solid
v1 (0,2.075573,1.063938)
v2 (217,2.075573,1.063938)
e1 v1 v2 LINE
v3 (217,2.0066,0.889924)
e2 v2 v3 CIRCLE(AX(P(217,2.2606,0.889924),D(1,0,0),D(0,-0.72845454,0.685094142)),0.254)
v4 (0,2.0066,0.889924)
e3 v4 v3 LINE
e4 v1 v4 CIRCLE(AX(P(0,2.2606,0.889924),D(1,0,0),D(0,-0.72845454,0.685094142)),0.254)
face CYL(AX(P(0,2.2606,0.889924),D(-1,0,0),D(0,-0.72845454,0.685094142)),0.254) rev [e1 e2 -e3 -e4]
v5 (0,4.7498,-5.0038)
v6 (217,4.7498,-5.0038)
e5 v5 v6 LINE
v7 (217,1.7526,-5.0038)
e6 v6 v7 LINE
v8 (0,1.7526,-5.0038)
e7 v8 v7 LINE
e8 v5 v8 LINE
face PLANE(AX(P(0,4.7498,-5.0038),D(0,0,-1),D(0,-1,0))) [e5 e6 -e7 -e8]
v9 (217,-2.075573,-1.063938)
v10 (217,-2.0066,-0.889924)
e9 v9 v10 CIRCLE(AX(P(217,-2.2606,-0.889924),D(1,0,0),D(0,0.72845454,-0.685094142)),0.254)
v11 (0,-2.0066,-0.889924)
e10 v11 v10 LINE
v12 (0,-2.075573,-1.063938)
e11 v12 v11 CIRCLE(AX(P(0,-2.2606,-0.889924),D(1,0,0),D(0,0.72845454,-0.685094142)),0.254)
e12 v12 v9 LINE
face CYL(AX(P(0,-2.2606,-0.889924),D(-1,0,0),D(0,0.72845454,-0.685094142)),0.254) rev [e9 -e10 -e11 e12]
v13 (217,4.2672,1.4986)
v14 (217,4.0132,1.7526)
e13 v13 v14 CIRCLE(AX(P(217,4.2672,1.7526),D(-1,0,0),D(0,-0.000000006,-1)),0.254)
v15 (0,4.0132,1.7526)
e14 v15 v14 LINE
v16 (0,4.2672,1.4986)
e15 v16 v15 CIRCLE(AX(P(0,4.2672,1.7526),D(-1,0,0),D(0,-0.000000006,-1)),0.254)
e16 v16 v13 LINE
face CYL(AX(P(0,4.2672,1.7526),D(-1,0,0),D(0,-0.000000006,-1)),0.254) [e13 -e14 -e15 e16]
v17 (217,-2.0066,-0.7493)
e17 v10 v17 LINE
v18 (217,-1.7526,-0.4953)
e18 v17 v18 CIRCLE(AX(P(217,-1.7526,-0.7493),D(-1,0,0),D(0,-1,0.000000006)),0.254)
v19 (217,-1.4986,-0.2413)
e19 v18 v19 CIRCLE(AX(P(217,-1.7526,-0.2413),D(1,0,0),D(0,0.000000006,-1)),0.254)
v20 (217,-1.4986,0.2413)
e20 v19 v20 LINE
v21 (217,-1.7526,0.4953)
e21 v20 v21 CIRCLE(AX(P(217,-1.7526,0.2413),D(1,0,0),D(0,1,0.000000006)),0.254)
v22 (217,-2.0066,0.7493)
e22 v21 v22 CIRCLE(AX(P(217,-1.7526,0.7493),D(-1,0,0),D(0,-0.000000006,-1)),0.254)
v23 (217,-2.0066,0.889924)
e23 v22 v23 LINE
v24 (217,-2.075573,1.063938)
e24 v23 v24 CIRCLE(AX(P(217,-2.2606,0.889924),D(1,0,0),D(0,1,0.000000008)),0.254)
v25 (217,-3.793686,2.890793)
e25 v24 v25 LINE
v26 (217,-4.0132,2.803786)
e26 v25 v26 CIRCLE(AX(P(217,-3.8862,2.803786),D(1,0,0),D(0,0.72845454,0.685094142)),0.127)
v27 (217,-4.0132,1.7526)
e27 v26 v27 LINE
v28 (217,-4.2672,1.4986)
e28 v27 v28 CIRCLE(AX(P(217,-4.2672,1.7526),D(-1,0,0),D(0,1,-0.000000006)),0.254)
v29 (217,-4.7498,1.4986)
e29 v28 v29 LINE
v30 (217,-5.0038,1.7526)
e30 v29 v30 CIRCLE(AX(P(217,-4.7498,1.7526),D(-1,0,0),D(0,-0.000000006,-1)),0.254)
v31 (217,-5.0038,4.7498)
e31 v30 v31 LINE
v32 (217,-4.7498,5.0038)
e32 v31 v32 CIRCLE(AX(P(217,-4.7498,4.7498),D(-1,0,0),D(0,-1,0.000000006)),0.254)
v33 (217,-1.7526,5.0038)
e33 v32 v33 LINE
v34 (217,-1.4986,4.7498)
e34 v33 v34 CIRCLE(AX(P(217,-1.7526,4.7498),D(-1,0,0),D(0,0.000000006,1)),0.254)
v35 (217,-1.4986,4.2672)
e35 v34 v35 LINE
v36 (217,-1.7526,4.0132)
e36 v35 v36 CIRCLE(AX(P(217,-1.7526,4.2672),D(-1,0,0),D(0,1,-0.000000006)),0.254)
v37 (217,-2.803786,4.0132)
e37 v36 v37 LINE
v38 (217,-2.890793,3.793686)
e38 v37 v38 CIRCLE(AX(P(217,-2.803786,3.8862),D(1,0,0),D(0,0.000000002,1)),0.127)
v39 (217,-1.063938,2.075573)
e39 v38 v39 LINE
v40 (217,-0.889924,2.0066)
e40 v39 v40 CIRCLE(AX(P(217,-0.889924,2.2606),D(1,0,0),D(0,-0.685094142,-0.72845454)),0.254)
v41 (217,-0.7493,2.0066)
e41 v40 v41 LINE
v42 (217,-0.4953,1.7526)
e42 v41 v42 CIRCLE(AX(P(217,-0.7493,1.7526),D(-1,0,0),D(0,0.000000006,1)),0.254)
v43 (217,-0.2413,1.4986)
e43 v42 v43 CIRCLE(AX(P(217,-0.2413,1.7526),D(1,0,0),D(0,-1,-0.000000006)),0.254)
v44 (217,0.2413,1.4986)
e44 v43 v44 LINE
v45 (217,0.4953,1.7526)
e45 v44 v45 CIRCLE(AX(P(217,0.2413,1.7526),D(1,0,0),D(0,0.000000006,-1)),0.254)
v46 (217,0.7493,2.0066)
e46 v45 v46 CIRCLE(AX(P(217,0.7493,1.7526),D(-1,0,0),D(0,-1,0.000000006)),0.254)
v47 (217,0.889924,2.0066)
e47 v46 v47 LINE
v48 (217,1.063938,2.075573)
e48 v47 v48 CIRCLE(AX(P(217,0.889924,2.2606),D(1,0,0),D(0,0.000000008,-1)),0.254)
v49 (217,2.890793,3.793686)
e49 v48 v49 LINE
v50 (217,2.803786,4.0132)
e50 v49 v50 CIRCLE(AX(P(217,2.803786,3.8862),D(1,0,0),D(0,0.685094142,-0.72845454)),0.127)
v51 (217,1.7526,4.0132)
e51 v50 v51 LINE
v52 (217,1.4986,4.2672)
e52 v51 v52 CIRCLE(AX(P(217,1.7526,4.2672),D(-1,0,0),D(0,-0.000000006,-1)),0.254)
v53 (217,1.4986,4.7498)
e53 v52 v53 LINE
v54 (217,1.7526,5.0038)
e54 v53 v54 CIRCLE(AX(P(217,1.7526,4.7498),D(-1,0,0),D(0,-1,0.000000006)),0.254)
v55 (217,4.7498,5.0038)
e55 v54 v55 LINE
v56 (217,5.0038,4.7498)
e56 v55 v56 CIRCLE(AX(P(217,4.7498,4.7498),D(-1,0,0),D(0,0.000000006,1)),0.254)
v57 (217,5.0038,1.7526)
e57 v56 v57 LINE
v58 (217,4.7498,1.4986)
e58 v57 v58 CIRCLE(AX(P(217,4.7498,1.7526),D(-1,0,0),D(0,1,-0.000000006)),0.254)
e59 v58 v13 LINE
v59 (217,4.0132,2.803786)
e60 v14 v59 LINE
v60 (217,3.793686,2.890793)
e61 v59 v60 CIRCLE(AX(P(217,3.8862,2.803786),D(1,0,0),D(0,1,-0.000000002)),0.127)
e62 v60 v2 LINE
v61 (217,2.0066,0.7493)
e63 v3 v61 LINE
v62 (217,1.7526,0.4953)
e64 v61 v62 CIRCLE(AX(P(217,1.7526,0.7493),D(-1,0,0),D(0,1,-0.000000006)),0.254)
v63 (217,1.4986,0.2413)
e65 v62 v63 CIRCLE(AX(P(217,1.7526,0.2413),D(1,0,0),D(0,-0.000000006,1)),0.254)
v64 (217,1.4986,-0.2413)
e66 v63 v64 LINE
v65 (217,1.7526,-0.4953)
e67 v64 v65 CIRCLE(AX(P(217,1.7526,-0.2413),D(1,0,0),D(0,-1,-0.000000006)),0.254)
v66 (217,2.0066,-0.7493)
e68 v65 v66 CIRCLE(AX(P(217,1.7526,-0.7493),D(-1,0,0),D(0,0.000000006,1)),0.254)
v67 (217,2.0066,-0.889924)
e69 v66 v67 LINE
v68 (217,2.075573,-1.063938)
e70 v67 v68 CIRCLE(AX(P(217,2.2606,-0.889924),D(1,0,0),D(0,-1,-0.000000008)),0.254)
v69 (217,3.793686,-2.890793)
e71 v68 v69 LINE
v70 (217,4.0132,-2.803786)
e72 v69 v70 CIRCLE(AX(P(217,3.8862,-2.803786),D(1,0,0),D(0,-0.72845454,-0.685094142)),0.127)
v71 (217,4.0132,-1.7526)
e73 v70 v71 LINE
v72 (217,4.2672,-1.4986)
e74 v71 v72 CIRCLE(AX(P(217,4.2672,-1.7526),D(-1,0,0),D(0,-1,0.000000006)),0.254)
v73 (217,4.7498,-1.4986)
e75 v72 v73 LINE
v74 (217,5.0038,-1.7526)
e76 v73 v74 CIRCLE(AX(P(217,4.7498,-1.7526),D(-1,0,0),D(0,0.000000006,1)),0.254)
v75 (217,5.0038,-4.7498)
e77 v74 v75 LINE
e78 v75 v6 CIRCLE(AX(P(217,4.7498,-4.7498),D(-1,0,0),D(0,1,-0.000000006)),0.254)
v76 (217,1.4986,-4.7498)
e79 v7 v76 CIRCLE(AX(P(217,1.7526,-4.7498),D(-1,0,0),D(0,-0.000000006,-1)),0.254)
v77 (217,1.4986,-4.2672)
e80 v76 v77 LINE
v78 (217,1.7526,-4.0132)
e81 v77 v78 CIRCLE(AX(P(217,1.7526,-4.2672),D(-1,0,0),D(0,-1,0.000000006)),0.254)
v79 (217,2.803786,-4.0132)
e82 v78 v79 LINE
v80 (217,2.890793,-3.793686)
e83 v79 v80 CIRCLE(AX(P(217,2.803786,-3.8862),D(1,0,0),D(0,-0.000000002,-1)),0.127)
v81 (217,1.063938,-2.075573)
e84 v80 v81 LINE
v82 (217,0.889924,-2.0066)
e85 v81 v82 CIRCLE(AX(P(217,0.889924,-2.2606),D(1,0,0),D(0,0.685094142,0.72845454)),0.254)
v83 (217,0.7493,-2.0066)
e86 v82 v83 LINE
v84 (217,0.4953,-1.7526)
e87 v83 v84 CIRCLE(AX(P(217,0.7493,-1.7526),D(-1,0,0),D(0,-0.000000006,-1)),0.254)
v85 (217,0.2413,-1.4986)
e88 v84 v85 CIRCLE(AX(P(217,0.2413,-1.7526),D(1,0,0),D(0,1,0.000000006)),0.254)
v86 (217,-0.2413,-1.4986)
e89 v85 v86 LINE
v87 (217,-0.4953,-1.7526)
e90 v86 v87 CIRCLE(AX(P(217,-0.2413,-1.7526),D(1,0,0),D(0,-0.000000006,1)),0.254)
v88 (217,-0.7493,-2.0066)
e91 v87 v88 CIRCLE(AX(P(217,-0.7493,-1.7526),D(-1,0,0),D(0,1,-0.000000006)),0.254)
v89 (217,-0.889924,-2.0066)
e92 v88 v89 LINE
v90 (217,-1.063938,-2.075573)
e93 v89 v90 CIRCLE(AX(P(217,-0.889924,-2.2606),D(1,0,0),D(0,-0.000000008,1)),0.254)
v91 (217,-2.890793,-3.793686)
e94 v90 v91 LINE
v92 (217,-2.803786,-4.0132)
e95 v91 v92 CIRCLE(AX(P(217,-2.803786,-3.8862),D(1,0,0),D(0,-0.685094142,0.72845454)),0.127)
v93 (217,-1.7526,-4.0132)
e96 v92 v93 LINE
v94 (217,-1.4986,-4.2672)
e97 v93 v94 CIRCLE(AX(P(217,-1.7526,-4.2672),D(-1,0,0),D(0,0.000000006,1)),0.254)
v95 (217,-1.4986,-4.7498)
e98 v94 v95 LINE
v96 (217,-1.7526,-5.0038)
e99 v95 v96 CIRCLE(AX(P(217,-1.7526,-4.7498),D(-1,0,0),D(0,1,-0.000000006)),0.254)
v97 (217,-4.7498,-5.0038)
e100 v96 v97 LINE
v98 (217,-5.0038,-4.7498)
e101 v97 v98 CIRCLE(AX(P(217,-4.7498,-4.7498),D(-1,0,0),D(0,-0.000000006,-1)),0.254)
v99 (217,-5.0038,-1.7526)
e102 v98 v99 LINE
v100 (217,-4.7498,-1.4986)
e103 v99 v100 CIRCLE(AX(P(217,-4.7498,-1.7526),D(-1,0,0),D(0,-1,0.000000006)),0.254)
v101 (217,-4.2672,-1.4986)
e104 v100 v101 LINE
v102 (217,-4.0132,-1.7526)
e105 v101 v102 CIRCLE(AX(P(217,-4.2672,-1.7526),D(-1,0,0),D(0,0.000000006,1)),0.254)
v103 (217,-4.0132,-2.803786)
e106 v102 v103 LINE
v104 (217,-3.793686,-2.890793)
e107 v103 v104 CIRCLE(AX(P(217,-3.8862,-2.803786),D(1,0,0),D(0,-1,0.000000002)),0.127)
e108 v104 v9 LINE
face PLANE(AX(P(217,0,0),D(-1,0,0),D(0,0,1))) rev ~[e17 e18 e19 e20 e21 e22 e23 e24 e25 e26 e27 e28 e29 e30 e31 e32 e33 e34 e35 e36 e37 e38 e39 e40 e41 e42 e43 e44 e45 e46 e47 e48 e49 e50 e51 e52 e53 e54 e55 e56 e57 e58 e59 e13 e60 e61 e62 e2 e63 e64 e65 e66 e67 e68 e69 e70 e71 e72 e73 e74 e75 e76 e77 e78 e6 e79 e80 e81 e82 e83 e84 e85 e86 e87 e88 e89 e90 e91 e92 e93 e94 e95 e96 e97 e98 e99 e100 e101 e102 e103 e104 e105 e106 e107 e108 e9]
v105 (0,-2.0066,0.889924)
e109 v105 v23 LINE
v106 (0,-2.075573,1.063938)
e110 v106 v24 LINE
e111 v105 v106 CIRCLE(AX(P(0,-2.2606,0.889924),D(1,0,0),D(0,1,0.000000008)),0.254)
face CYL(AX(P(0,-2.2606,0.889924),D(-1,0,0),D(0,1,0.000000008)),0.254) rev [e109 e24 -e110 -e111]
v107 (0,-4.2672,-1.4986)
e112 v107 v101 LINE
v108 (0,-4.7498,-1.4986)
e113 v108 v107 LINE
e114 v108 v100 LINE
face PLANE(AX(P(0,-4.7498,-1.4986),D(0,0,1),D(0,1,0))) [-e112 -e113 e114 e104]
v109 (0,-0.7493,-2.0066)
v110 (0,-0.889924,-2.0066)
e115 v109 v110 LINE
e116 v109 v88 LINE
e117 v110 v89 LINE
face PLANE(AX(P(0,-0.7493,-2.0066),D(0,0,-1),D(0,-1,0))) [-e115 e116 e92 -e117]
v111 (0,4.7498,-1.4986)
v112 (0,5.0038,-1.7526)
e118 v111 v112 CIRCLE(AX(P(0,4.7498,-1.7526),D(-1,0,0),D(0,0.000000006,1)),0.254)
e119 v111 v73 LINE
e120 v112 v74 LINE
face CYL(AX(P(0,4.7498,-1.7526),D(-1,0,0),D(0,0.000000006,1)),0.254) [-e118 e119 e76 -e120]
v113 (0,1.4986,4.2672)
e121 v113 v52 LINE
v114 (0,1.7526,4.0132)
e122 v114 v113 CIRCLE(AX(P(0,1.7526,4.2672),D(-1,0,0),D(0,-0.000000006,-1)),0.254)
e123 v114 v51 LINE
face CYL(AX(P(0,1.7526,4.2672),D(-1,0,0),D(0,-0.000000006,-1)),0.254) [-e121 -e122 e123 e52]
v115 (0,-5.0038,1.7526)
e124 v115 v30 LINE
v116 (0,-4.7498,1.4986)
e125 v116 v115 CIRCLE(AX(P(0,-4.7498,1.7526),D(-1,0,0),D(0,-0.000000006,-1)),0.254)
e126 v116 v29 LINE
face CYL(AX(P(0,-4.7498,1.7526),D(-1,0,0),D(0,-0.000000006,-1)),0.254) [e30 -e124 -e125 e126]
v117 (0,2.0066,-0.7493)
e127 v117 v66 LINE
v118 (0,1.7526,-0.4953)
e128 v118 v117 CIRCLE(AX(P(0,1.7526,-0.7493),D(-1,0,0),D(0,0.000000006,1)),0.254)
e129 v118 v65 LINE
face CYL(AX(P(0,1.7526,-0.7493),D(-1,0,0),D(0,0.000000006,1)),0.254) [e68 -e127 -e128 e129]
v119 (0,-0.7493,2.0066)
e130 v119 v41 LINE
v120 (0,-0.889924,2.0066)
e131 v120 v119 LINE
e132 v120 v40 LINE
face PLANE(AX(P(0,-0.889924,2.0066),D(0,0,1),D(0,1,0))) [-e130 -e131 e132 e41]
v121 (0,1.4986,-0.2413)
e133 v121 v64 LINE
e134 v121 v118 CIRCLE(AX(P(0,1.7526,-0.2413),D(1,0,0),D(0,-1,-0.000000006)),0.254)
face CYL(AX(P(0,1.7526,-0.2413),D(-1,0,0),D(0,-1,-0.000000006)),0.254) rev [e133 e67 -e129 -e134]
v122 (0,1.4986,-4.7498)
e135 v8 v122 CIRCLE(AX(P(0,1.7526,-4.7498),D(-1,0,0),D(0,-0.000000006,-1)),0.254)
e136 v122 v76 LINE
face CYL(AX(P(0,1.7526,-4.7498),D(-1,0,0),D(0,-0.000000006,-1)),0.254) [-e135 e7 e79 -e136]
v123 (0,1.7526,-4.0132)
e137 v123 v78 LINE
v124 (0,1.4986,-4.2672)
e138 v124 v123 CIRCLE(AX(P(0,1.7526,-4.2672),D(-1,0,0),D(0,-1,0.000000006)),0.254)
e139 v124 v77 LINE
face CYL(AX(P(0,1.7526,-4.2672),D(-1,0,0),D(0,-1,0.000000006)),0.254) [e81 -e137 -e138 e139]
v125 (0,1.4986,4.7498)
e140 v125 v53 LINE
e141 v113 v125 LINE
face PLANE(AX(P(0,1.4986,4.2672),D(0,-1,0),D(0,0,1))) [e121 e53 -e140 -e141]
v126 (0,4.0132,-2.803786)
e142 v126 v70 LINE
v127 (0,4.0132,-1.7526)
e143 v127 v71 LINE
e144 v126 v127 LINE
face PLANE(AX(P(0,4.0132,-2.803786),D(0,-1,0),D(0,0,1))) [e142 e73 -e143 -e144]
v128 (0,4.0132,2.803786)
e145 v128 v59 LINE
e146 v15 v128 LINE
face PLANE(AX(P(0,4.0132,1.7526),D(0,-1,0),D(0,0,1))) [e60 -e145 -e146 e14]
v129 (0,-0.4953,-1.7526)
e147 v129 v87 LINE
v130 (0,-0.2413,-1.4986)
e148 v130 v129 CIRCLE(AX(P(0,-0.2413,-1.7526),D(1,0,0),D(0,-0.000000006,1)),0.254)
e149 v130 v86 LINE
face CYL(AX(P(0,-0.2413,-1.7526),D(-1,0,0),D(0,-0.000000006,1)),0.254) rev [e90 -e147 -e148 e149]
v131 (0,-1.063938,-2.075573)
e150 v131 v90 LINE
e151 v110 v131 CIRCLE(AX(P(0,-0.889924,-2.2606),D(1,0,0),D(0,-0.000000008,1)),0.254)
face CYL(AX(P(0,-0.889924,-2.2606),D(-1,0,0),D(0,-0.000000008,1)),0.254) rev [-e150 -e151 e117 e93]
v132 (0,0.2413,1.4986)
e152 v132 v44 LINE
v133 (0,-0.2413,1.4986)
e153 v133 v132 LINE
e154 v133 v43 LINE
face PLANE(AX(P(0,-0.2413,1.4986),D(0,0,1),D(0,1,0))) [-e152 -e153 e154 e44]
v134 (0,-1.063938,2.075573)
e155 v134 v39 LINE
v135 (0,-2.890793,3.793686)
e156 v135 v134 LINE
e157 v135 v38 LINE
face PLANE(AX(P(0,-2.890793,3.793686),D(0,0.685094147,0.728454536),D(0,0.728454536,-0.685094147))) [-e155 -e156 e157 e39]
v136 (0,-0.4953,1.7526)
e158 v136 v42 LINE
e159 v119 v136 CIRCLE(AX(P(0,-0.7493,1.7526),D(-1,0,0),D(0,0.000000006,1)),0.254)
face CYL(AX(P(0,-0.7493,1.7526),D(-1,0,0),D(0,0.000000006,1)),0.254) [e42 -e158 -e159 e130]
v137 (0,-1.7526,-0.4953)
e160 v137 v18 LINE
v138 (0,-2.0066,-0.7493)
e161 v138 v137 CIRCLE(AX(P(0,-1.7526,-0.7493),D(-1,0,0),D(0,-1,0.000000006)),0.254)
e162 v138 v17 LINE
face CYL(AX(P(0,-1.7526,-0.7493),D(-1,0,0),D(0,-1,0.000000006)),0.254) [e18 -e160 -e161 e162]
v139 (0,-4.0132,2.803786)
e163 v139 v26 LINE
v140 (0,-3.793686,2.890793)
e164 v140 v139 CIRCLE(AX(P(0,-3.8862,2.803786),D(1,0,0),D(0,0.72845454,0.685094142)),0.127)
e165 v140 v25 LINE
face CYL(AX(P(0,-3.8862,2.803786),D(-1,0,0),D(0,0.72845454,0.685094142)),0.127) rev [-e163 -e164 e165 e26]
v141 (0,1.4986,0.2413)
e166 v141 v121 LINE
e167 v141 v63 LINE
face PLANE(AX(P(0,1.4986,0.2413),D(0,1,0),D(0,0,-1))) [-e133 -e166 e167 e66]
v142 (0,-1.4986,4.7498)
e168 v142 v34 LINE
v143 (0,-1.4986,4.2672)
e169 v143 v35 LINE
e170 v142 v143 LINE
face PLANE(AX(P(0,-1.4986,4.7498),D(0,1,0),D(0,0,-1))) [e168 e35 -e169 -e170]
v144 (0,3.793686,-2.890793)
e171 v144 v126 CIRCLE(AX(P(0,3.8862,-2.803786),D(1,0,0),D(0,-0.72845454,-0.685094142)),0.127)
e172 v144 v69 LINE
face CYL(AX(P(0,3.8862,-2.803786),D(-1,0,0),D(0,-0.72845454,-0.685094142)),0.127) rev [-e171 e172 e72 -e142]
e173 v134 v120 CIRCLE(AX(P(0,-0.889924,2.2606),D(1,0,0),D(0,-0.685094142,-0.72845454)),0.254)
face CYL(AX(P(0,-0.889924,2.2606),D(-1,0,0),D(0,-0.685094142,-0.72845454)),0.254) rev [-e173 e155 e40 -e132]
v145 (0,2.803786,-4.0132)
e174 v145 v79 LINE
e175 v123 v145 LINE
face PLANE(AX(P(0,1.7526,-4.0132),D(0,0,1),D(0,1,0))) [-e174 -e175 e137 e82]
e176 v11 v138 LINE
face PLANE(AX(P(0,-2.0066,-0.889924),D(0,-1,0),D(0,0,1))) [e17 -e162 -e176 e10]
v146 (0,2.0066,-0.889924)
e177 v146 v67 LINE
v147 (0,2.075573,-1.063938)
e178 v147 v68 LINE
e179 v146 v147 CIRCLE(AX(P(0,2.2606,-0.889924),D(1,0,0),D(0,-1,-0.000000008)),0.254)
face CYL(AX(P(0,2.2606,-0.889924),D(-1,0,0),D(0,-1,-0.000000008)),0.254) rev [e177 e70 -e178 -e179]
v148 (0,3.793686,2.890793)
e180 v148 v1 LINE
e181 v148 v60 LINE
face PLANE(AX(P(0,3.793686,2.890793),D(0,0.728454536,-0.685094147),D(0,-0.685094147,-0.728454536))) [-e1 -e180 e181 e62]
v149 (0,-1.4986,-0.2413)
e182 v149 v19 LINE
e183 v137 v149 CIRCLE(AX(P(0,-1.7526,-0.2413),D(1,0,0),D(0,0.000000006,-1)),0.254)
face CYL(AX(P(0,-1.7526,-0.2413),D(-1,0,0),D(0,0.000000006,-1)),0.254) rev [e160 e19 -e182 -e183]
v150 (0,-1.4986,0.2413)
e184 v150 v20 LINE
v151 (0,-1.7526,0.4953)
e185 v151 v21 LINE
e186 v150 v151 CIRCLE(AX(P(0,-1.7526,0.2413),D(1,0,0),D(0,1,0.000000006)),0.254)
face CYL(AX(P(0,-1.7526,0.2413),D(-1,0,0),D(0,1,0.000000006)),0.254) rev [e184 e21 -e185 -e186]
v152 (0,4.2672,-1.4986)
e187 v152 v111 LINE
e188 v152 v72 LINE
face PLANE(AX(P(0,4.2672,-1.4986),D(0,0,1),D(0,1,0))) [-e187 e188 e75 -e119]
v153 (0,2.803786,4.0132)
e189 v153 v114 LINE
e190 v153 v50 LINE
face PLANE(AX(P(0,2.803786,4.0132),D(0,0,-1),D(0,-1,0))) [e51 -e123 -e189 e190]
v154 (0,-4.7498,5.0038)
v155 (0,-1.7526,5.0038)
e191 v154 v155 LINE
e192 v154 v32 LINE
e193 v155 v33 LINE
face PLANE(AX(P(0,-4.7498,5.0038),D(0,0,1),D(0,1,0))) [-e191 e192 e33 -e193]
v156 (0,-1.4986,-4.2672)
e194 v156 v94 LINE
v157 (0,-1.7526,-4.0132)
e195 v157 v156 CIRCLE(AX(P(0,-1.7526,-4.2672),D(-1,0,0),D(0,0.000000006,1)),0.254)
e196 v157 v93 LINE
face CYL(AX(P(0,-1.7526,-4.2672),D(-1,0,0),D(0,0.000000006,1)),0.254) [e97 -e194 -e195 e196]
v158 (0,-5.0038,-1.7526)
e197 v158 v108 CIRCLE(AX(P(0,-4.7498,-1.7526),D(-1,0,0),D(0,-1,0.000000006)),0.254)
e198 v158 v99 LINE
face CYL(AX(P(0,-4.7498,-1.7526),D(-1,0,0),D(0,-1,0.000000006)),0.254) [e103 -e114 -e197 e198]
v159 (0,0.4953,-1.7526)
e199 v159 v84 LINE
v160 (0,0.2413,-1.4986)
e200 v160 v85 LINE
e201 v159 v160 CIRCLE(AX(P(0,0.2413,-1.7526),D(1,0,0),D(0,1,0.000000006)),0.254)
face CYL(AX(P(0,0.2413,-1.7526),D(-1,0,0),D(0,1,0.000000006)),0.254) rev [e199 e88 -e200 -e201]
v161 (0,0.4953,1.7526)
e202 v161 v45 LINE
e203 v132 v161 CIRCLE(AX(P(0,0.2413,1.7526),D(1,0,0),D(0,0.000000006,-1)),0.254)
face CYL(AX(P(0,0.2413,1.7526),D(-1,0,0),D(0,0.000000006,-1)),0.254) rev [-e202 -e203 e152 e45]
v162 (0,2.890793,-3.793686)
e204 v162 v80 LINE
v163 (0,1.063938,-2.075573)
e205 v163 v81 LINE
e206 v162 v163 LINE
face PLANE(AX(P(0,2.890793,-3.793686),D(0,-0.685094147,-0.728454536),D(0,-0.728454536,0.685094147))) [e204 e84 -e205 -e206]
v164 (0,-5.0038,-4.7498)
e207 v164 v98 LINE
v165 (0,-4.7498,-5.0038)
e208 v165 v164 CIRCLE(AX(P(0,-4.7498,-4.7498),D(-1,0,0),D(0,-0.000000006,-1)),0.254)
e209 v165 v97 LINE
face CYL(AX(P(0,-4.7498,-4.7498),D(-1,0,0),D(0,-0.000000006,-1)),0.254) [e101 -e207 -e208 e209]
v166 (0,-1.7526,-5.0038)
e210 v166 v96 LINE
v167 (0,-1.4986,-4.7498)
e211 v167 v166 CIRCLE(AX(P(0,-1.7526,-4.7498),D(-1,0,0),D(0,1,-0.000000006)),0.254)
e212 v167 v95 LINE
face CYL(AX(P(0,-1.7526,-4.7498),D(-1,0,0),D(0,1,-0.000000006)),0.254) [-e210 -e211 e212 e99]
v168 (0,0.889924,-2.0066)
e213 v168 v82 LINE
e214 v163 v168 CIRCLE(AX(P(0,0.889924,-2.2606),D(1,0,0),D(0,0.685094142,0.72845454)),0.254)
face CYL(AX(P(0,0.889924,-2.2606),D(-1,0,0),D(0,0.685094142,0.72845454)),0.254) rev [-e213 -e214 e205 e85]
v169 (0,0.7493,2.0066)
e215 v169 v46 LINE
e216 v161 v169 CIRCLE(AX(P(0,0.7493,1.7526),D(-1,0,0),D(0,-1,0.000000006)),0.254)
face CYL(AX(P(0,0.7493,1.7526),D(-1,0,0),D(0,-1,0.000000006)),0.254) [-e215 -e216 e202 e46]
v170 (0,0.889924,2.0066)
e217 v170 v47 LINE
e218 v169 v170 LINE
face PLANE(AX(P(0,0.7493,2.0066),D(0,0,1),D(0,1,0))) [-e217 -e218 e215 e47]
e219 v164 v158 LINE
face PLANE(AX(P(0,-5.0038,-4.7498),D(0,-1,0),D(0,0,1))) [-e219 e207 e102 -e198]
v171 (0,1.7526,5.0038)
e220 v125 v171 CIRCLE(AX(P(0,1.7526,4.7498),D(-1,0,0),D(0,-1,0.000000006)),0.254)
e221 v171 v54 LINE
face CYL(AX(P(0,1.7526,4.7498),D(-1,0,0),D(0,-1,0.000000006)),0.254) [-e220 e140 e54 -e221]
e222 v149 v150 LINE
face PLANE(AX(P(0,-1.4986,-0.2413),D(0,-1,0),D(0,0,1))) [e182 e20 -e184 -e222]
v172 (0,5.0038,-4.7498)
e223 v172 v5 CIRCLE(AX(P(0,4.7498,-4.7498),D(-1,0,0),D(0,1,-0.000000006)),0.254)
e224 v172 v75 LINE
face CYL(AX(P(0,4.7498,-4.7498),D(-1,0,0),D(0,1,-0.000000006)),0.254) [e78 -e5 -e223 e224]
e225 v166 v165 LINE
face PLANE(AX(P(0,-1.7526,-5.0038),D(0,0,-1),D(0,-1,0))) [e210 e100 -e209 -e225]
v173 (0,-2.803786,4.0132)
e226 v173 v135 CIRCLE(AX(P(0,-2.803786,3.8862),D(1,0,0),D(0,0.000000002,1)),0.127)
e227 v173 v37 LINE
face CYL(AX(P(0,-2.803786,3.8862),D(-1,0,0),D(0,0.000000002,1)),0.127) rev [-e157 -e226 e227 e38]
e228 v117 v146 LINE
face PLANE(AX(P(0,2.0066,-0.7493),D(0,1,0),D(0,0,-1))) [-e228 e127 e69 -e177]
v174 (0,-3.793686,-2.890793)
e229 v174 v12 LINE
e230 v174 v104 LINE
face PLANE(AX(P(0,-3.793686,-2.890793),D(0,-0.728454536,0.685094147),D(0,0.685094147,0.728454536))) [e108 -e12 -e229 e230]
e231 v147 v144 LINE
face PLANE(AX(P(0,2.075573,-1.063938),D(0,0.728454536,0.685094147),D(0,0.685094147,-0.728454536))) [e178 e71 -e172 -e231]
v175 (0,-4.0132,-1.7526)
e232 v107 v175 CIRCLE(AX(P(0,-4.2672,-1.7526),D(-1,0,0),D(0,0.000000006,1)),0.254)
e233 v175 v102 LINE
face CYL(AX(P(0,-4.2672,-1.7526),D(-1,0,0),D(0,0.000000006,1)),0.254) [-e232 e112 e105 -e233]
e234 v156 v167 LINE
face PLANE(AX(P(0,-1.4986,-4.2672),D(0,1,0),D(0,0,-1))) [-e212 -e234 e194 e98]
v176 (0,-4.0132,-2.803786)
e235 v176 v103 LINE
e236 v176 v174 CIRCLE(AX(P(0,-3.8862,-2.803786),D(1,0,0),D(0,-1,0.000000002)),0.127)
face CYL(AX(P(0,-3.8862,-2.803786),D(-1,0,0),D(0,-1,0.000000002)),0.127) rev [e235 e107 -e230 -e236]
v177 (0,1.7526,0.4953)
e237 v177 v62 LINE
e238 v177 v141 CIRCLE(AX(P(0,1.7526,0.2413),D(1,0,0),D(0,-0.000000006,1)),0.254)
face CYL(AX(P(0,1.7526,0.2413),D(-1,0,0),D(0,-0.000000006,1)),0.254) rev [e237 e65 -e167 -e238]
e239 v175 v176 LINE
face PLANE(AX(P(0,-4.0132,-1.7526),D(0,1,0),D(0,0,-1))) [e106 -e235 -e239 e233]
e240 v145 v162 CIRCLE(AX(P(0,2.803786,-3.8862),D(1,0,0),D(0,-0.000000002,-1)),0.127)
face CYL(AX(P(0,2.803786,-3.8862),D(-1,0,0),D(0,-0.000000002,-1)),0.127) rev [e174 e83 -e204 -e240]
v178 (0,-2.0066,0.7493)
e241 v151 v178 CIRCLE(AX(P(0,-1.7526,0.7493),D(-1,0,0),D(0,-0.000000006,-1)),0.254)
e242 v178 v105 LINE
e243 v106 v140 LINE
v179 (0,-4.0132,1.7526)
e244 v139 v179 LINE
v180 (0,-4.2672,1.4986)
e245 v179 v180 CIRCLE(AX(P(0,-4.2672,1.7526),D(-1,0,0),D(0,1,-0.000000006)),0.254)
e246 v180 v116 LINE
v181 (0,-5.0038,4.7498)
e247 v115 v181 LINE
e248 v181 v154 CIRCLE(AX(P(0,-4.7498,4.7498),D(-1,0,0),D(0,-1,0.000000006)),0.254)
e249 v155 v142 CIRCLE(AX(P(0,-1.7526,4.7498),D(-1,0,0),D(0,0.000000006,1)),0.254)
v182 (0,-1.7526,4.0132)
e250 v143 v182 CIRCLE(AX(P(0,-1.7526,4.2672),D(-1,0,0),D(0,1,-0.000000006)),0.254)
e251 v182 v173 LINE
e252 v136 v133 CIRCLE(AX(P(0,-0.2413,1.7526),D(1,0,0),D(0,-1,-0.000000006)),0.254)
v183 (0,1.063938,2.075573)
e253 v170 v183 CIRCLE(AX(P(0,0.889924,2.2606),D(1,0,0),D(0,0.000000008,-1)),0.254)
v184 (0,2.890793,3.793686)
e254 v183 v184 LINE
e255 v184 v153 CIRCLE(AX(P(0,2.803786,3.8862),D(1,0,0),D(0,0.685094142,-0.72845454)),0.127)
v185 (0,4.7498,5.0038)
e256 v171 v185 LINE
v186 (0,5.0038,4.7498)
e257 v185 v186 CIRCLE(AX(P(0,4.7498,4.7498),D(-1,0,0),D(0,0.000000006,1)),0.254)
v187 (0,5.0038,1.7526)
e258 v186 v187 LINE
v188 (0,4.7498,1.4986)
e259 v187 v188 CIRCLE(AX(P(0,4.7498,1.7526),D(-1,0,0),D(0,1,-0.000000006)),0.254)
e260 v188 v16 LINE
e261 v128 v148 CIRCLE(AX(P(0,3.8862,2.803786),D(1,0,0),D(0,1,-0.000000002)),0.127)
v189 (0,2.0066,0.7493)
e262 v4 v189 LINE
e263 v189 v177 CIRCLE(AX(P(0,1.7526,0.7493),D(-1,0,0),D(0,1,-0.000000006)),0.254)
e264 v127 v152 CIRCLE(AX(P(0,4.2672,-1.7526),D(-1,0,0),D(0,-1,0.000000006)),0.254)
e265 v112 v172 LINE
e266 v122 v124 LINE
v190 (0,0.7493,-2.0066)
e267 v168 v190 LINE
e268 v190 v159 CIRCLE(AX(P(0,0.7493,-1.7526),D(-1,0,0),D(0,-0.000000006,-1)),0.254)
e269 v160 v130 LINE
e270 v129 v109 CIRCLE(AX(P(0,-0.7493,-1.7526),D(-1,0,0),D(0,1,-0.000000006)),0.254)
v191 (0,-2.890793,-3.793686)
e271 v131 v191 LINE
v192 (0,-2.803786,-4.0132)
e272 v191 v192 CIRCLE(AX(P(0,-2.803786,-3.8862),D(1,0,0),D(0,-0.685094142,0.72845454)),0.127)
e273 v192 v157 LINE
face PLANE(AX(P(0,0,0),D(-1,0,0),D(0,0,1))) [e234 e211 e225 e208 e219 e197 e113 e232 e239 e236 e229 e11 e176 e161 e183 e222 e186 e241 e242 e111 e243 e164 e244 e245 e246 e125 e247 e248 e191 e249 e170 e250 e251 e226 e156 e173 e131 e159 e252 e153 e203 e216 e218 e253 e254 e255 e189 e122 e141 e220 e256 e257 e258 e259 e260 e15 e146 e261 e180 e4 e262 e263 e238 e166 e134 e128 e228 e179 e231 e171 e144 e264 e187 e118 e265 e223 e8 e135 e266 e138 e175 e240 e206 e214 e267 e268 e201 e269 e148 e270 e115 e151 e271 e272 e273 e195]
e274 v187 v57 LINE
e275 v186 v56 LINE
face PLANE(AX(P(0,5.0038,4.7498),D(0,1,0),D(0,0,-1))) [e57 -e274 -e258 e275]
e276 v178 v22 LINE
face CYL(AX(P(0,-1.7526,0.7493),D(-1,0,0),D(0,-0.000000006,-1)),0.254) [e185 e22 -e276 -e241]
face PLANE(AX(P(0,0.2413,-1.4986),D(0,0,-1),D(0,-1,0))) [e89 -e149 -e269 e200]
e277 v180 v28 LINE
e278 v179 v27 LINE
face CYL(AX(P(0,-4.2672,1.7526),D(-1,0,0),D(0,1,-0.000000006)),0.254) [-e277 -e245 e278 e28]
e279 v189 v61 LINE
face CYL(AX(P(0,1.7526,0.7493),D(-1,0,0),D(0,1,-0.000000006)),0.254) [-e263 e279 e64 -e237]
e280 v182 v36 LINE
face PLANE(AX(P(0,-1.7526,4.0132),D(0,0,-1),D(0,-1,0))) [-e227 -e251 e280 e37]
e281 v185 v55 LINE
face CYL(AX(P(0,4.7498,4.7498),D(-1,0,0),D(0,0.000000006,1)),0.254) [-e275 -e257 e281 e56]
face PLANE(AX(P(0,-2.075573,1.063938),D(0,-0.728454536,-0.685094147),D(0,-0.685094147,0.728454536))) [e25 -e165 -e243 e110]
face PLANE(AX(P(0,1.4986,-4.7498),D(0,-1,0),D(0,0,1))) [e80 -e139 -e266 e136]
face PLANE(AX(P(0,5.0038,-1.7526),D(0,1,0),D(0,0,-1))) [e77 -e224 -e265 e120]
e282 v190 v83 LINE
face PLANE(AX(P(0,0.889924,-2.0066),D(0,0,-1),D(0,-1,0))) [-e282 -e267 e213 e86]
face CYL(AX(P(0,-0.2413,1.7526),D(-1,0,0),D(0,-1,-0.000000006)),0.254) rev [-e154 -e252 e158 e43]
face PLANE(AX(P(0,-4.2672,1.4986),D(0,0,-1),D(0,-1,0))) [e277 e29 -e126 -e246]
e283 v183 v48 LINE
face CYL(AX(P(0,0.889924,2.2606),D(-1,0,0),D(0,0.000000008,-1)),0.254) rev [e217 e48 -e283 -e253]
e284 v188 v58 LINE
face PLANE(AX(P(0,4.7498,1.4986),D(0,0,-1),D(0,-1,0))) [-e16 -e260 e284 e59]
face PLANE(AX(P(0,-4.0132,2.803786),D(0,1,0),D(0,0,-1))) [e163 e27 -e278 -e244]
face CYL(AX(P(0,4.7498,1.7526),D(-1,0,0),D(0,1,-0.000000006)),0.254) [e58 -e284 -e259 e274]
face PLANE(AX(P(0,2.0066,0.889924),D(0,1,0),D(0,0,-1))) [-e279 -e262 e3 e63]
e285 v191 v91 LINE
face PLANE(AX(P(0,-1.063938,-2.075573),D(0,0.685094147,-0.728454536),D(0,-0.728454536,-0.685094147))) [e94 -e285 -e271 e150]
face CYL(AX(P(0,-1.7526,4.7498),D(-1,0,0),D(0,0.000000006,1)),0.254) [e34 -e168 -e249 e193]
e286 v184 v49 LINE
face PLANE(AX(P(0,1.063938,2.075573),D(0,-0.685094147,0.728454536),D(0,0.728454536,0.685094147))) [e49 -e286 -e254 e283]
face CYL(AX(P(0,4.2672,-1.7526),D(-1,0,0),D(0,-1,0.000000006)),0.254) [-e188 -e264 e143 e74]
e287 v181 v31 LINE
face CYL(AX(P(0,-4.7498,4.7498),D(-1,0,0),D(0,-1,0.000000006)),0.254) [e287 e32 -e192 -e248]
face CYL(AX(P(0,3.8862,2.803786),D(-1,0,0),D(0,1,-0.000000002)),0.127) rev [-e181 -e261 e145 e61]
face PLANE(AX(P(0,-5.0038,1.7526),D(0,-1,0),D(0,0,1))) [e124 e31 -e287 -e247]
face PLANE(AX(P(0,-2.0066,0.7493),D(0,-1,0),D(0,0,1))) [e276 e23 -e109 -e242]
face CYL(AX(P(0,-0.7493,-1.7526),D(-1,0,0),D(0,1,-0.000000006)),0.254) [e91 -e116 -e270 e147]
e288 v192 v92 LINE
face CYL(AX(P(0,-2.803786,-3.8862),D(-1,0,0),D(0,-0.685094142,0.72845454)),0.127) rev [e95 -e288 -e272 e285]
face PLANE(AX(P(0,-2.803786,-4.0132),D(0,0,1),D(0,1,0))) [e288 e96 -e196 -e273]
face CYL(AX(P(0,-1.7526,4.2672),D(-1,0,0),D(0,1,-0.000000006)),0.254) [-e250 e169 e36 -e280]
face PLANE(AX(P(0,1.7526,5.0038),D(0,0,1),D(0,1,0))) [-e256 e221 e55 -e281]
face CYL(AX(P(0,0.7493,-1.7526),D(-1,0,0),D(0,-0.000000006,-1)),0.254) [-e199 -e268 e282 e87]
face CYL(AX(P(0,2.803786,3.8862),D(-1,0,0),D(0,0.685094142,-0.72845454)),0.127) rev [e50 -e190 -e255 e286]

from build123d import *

# Parameters (mm, degrees)
BOSS_EXTRU_1_DEPTH = 217


with BuildPart() as part:
    # Sketch1 → Boss.-Extru.1 (new body)
    with BuildSketch(Plane(origin=(0, 0, 0), x_dir=(0, 0, -1), z_dir=(1, 0, 0))):
        with BuildLine():
            Line((-0.2413, 1.4986), (0.2413, 1.4986))
            ThreePointArc((0.2413, 1.4986), (0.420905122, 1.572994878), (0.4953, 1.7526))
            ThreePointArc((0.4953, 1.7526), (0.569694878, 1.932205122), (0.7493, 2.0066))
            Line((0.7493, 2.0066), (0.889923986, 2.0066))
            ThreePointArc((0.889923986, 2.0066), (0.983516259, 2.024471886), (1.063937899, 2.075572548))
            Line((1.063937899, 2.075572548), (2.890793, 3.793686274))
            ThreePointArc((2.890793, 3.793686274), (2.921850101, 3.932996137), (2.803786044, 4.0132))
            Line((2.803786044, 4.0132), (1.7526, 4.0132))
            ThreePointArc((1.7526, 4.0132), (1.572994878, 4.087594878), (1.4986, 4.2672))
            Line((1.4986, 4.2672), (1.4986, 4.7498))
            ThreePointArc((1.4986, 4.7498), (1.572994878, 4.929405122), (1.7526, 5.0038))
            Line((1.7526, 5.0038), (4.7498, 5.0038))
            ThreePointArc((4.7498, 5.0038), (4.929405122, 4.929405122), (5.0038, 4.7498))
            Line((5.0038, 4.7498), (5.0038, 1.7526))
            ThreePointArc((5.0038, 1.7526), (4.929405122, 1.572994878), (4.7498, 1.4986))
            Line((4.7498, 1.4986), (4.2672, 1.4986))
            ThreePointArc((4.2672, 1.4986), (4.087594878, 1.572994878), (4.0132, 1.7526))
            Line((4.0132, 1.7526), (4.0132, 2.803786044))
            ThreePointArc((4.0132, 2.803786044), (3.932996137, 2.921850101), (3.793686274, 2.890793))
            Line((3.793686274, 2.890793), (2.075572548, 1.063937899))
            ThreePointArc((2.075572548, 1.063937899), (2.024471886, 0.983516259), (2.0066, 0.889923986))
            Line((2.0066, 0.889923986), (2.0066, 0.7493))
            ThreePointArc((2.0066, 0.7493), (1.932205122, 0.569694878), (1.7526, 0.4953))
            ThreePointArc((1.7526, 0.4953), (1.572994878, 0.420905122), (1.4986, 0.2413))
            Line((1.4986, 0.2413), (1.4986, -0.2413))
            ThreePointArc((1.4986, -0.2413), (1.572994878, -0.420905122), (1.7526, -0.4953))
            ThreePointArc((1.7526, -0.4953), (1.932205122, -0.569694878), (2.0066, -0.7493))
            Line((2.0066, -0.7493), (2.0066, -0.889923986))
            ThreePointArc((2.0066, -0.889923986), (2.024471886, -0.983516259), (2.075572548, -1.063937899))
            Line((2.075572548, -1.063937899), (3.793686274, -2.890793))
            ThreePointArc((3.793686274, -2.890793), (3.932996137, -2.921850101), (4.0132, -2.803786044))
            Line((4.0132, -2.803786044), (4.0132, -1.7526))
            ThreePointArc((4.0132, -1.7526), (4.087594878, -1.572994878), (4.2672, -1.4986))
            Line((4.2672, -1.4986), (4.7498, -1.4986))
            ThreePointArc((4.7498, -1.4986), (4.929405122, -1.572994878), (5.0038, -1.7526))
            Line((5.0038, -1.7526), (5.0038, -4.7498))
            ThreePointArc((5.0038, -4.7498), (4.929405122, -4.929405122), (4.7498, -5.0038))
            Line((4.7498, -5.0038), (1.7526, -5.0038))
            ThreePointArc((1.7526, -5.0038), (1.572994878, -4.929405122), (1.4986, -4.7498))
            Line((1.4986, -4.7498), (1.4986, -4.2672))
            ThreePointArc((1.4986, -4.2672), (1.572994878, -4.087594878), (1.7526, -4.0132))
            Line((1.7526, -4.0132), (2.803786044, -4.0132))
            ThreePointArc((2.803786044, -4.0132), (2.921850101, -3.932996137), (2.890793, -3.793686274))
            Line((2.890793, -3.793686274), (1.063937899, -2.075572548))
            ThreePointArc((1.063937899, -2.075572548), (0.983516259, -2.024471886), (0.889923986, -2.0066))
            Line((0.889923986, -2.0066), (0.7493, -2.0066))
            ThreePointArc((0.7493, -2.0066), (0.569694878, -1.932205122), (0.4953, -1.7526))
            ThreePointArc((0.4953, -1.7526), (0.420905122, -1.572994878), (0.2413, -1.4986))
            Line((0.2413, -1.4986), (-0.2413, -1.4986))
            ThreePointArc((-0.2413, -1.4986), (-0.420905122, -1.572994878), (-0.4953, -1.7526))
            ThreePointArc((-0.4953, -1.7526), (-0.569694878, -1.932205122), (-0.7493, -2.0066))
            Line((-0.7493, -2.0066), (-0.889923986, -2.0066))
            ThreePointArc((-0.889923986, -2.0066), (-0.983516259, -2.024471886), (-1.063937899, -2.075572548))
            Line((-1.063937899, -2.075572548), (-2.890793, -3.793686274))
            ThreePointArc((-2.890793, -3.793686274), (-2.921850101, -3.932996137), (-2.803786044, -4.0132))
            Line((-2.803786044, -4.0132), (-1.7526, -4.0132))
            ThreePointArc((-1.7526, -4.0132), (-1.572994878, -4.087594878), (-1.4986, -4.2672))
            Line((-1.4986, -4.2672), (-1.4986, -4.7498))
            ThreePointArc((-1.4986, -4.7498), (-1.572994878, -4.929405122), (-1.7526, -5.0038))
            Line((-1.7526, -5.0038), (-4.7498, -5.0038))
            ThreePointArc((-4.7498, -5.0038), (-4.929405122, -4.929405122), (-5.0038, -4.7498))
            Line((-5.0038, -4.7498), (-5.0038, -1.7526))
            ThreePointArc((-5.0038, -1.7526), (-4.929405122, -1.572994878), (-4.7498, -1.4986))
            Line((-4.7498, -1.4986), (-4.2672, -1.4986))
            ThreePointArc((-4.2672, -1.4986), (-4.087594878, -1.572994878), (-4.0132, -1.7526))
            Line((-4.0132, -1.7526), (-4.0132, -2.803786044))
            ThreePointArc((-4.0132, -2.803786044), (-3.932996137, -2.921850101), (-3.793686274, -2.890793))
            Line((-3.793686274, -2.890793), (-2.075572548, -1.063937899))
            ThreePointArc((-2.075572548, -1.063937899), (-2.024471886, -0.983516259), (-2.0066, -0.889923986))
            Line((-2.0066, -0.889923986), (-2.0066, -0.7493))
            ThreePointArc((-2.0066, -0.7493), (-1.932205122, -0.569694878), (-1.7526, -0.4953))
            ThreePointArc((-1.7526, -0.4953), (-1.572994878, -0.420905122), (-1.4986, -0.2413))
            Line((-1.4986, -0.2413), (-1.4986, 0.2413))
            ThreePointArc((-1.4986, 0.2413), (-1.572994878, 0.420905122), (-1.7526, 0.4953))
            ThreePointArc((-1.7526, 0.4953), (-1.932205122, 0.569694878), (-2.0066, 0.7493))
            Line((-2.0066, 0.7493), (-2.0066, 0.889923986))
            ThreePointArc((-2.0066, 0.889923986), (-2.024471886, 0.983516259), (-2.075572548, 1.063937899))
            Line((-2.075572548, 1.063937899), (-3.793686274, 2.890793))
            ThreePointArc((-3.793686274, 2.890793), (-3.932996137, 2.921850101), (-4.0132, 2.803786044))
            Line((-4.0132, 2.803786044), (-4.0132, 1.7526))
            ThreePointArc((-4.0132, 1.7526), (-4.087594878, 1.572994878), (-4.2672, 1.4986))
            Line((-4.2672, 1.4986), (-4.7498, 1.4986))
            ThreePointArc((-4.7498, 1.4986), (-4.929405122, 1.572994878), (-5.0038, 1.7526))
            Line((-5.0038, 1.7526), (-5.0038, 4.7498))
            ThreePointArc((-5.0038, 4.7498), (-4.929405122, 4.929405122), (-4.7498, 5.0038))
            Line((-4.7498, 5.0038), (-1.7526, 5.0038))
            ThreePointArc((-1.7526, 5.0038), (-1.572994878, 4.929405122), (-1.4986, 4.7498))
            Line((-1.4986, 4.7498), (-1.4986, 4.2672))
            ThreePointArc((-1.4986, 4.2672), (-1.572994878, 4.087594878), (-1.7526, 4.0132))
            Line((-1.7526, 4.0132), (-2.803786044, 4.0132))
            ThreePointArc((-2.803786044, 4.0132), (-2.921850101, 3.932996137), (-2.890793, 3.793686274))
            Line((-2.890793, 3.793686274), (-1.063937899, 2.075572548))
            ThreePointArc((-1.063937899, 2.075572548), (-0.983516259, 2.024471886), (-0.889923986, 2.0066))
            Line((-0.889923986, 2.0066), (-0.7493, 2.0066))
            ThreePointArc((-0.7493, 2.0066), (-0.569694878, 1.932205122), (-0.4953, 1.7526))
            ThreePointArc((-0.4953, 1.7526), (-0.420905122, 1.572994878), (-0.2413, 1.4986))
        make_face()
    extrude(amount=BOSS_EXTRU_1_DEPTH)


solid = part.part
